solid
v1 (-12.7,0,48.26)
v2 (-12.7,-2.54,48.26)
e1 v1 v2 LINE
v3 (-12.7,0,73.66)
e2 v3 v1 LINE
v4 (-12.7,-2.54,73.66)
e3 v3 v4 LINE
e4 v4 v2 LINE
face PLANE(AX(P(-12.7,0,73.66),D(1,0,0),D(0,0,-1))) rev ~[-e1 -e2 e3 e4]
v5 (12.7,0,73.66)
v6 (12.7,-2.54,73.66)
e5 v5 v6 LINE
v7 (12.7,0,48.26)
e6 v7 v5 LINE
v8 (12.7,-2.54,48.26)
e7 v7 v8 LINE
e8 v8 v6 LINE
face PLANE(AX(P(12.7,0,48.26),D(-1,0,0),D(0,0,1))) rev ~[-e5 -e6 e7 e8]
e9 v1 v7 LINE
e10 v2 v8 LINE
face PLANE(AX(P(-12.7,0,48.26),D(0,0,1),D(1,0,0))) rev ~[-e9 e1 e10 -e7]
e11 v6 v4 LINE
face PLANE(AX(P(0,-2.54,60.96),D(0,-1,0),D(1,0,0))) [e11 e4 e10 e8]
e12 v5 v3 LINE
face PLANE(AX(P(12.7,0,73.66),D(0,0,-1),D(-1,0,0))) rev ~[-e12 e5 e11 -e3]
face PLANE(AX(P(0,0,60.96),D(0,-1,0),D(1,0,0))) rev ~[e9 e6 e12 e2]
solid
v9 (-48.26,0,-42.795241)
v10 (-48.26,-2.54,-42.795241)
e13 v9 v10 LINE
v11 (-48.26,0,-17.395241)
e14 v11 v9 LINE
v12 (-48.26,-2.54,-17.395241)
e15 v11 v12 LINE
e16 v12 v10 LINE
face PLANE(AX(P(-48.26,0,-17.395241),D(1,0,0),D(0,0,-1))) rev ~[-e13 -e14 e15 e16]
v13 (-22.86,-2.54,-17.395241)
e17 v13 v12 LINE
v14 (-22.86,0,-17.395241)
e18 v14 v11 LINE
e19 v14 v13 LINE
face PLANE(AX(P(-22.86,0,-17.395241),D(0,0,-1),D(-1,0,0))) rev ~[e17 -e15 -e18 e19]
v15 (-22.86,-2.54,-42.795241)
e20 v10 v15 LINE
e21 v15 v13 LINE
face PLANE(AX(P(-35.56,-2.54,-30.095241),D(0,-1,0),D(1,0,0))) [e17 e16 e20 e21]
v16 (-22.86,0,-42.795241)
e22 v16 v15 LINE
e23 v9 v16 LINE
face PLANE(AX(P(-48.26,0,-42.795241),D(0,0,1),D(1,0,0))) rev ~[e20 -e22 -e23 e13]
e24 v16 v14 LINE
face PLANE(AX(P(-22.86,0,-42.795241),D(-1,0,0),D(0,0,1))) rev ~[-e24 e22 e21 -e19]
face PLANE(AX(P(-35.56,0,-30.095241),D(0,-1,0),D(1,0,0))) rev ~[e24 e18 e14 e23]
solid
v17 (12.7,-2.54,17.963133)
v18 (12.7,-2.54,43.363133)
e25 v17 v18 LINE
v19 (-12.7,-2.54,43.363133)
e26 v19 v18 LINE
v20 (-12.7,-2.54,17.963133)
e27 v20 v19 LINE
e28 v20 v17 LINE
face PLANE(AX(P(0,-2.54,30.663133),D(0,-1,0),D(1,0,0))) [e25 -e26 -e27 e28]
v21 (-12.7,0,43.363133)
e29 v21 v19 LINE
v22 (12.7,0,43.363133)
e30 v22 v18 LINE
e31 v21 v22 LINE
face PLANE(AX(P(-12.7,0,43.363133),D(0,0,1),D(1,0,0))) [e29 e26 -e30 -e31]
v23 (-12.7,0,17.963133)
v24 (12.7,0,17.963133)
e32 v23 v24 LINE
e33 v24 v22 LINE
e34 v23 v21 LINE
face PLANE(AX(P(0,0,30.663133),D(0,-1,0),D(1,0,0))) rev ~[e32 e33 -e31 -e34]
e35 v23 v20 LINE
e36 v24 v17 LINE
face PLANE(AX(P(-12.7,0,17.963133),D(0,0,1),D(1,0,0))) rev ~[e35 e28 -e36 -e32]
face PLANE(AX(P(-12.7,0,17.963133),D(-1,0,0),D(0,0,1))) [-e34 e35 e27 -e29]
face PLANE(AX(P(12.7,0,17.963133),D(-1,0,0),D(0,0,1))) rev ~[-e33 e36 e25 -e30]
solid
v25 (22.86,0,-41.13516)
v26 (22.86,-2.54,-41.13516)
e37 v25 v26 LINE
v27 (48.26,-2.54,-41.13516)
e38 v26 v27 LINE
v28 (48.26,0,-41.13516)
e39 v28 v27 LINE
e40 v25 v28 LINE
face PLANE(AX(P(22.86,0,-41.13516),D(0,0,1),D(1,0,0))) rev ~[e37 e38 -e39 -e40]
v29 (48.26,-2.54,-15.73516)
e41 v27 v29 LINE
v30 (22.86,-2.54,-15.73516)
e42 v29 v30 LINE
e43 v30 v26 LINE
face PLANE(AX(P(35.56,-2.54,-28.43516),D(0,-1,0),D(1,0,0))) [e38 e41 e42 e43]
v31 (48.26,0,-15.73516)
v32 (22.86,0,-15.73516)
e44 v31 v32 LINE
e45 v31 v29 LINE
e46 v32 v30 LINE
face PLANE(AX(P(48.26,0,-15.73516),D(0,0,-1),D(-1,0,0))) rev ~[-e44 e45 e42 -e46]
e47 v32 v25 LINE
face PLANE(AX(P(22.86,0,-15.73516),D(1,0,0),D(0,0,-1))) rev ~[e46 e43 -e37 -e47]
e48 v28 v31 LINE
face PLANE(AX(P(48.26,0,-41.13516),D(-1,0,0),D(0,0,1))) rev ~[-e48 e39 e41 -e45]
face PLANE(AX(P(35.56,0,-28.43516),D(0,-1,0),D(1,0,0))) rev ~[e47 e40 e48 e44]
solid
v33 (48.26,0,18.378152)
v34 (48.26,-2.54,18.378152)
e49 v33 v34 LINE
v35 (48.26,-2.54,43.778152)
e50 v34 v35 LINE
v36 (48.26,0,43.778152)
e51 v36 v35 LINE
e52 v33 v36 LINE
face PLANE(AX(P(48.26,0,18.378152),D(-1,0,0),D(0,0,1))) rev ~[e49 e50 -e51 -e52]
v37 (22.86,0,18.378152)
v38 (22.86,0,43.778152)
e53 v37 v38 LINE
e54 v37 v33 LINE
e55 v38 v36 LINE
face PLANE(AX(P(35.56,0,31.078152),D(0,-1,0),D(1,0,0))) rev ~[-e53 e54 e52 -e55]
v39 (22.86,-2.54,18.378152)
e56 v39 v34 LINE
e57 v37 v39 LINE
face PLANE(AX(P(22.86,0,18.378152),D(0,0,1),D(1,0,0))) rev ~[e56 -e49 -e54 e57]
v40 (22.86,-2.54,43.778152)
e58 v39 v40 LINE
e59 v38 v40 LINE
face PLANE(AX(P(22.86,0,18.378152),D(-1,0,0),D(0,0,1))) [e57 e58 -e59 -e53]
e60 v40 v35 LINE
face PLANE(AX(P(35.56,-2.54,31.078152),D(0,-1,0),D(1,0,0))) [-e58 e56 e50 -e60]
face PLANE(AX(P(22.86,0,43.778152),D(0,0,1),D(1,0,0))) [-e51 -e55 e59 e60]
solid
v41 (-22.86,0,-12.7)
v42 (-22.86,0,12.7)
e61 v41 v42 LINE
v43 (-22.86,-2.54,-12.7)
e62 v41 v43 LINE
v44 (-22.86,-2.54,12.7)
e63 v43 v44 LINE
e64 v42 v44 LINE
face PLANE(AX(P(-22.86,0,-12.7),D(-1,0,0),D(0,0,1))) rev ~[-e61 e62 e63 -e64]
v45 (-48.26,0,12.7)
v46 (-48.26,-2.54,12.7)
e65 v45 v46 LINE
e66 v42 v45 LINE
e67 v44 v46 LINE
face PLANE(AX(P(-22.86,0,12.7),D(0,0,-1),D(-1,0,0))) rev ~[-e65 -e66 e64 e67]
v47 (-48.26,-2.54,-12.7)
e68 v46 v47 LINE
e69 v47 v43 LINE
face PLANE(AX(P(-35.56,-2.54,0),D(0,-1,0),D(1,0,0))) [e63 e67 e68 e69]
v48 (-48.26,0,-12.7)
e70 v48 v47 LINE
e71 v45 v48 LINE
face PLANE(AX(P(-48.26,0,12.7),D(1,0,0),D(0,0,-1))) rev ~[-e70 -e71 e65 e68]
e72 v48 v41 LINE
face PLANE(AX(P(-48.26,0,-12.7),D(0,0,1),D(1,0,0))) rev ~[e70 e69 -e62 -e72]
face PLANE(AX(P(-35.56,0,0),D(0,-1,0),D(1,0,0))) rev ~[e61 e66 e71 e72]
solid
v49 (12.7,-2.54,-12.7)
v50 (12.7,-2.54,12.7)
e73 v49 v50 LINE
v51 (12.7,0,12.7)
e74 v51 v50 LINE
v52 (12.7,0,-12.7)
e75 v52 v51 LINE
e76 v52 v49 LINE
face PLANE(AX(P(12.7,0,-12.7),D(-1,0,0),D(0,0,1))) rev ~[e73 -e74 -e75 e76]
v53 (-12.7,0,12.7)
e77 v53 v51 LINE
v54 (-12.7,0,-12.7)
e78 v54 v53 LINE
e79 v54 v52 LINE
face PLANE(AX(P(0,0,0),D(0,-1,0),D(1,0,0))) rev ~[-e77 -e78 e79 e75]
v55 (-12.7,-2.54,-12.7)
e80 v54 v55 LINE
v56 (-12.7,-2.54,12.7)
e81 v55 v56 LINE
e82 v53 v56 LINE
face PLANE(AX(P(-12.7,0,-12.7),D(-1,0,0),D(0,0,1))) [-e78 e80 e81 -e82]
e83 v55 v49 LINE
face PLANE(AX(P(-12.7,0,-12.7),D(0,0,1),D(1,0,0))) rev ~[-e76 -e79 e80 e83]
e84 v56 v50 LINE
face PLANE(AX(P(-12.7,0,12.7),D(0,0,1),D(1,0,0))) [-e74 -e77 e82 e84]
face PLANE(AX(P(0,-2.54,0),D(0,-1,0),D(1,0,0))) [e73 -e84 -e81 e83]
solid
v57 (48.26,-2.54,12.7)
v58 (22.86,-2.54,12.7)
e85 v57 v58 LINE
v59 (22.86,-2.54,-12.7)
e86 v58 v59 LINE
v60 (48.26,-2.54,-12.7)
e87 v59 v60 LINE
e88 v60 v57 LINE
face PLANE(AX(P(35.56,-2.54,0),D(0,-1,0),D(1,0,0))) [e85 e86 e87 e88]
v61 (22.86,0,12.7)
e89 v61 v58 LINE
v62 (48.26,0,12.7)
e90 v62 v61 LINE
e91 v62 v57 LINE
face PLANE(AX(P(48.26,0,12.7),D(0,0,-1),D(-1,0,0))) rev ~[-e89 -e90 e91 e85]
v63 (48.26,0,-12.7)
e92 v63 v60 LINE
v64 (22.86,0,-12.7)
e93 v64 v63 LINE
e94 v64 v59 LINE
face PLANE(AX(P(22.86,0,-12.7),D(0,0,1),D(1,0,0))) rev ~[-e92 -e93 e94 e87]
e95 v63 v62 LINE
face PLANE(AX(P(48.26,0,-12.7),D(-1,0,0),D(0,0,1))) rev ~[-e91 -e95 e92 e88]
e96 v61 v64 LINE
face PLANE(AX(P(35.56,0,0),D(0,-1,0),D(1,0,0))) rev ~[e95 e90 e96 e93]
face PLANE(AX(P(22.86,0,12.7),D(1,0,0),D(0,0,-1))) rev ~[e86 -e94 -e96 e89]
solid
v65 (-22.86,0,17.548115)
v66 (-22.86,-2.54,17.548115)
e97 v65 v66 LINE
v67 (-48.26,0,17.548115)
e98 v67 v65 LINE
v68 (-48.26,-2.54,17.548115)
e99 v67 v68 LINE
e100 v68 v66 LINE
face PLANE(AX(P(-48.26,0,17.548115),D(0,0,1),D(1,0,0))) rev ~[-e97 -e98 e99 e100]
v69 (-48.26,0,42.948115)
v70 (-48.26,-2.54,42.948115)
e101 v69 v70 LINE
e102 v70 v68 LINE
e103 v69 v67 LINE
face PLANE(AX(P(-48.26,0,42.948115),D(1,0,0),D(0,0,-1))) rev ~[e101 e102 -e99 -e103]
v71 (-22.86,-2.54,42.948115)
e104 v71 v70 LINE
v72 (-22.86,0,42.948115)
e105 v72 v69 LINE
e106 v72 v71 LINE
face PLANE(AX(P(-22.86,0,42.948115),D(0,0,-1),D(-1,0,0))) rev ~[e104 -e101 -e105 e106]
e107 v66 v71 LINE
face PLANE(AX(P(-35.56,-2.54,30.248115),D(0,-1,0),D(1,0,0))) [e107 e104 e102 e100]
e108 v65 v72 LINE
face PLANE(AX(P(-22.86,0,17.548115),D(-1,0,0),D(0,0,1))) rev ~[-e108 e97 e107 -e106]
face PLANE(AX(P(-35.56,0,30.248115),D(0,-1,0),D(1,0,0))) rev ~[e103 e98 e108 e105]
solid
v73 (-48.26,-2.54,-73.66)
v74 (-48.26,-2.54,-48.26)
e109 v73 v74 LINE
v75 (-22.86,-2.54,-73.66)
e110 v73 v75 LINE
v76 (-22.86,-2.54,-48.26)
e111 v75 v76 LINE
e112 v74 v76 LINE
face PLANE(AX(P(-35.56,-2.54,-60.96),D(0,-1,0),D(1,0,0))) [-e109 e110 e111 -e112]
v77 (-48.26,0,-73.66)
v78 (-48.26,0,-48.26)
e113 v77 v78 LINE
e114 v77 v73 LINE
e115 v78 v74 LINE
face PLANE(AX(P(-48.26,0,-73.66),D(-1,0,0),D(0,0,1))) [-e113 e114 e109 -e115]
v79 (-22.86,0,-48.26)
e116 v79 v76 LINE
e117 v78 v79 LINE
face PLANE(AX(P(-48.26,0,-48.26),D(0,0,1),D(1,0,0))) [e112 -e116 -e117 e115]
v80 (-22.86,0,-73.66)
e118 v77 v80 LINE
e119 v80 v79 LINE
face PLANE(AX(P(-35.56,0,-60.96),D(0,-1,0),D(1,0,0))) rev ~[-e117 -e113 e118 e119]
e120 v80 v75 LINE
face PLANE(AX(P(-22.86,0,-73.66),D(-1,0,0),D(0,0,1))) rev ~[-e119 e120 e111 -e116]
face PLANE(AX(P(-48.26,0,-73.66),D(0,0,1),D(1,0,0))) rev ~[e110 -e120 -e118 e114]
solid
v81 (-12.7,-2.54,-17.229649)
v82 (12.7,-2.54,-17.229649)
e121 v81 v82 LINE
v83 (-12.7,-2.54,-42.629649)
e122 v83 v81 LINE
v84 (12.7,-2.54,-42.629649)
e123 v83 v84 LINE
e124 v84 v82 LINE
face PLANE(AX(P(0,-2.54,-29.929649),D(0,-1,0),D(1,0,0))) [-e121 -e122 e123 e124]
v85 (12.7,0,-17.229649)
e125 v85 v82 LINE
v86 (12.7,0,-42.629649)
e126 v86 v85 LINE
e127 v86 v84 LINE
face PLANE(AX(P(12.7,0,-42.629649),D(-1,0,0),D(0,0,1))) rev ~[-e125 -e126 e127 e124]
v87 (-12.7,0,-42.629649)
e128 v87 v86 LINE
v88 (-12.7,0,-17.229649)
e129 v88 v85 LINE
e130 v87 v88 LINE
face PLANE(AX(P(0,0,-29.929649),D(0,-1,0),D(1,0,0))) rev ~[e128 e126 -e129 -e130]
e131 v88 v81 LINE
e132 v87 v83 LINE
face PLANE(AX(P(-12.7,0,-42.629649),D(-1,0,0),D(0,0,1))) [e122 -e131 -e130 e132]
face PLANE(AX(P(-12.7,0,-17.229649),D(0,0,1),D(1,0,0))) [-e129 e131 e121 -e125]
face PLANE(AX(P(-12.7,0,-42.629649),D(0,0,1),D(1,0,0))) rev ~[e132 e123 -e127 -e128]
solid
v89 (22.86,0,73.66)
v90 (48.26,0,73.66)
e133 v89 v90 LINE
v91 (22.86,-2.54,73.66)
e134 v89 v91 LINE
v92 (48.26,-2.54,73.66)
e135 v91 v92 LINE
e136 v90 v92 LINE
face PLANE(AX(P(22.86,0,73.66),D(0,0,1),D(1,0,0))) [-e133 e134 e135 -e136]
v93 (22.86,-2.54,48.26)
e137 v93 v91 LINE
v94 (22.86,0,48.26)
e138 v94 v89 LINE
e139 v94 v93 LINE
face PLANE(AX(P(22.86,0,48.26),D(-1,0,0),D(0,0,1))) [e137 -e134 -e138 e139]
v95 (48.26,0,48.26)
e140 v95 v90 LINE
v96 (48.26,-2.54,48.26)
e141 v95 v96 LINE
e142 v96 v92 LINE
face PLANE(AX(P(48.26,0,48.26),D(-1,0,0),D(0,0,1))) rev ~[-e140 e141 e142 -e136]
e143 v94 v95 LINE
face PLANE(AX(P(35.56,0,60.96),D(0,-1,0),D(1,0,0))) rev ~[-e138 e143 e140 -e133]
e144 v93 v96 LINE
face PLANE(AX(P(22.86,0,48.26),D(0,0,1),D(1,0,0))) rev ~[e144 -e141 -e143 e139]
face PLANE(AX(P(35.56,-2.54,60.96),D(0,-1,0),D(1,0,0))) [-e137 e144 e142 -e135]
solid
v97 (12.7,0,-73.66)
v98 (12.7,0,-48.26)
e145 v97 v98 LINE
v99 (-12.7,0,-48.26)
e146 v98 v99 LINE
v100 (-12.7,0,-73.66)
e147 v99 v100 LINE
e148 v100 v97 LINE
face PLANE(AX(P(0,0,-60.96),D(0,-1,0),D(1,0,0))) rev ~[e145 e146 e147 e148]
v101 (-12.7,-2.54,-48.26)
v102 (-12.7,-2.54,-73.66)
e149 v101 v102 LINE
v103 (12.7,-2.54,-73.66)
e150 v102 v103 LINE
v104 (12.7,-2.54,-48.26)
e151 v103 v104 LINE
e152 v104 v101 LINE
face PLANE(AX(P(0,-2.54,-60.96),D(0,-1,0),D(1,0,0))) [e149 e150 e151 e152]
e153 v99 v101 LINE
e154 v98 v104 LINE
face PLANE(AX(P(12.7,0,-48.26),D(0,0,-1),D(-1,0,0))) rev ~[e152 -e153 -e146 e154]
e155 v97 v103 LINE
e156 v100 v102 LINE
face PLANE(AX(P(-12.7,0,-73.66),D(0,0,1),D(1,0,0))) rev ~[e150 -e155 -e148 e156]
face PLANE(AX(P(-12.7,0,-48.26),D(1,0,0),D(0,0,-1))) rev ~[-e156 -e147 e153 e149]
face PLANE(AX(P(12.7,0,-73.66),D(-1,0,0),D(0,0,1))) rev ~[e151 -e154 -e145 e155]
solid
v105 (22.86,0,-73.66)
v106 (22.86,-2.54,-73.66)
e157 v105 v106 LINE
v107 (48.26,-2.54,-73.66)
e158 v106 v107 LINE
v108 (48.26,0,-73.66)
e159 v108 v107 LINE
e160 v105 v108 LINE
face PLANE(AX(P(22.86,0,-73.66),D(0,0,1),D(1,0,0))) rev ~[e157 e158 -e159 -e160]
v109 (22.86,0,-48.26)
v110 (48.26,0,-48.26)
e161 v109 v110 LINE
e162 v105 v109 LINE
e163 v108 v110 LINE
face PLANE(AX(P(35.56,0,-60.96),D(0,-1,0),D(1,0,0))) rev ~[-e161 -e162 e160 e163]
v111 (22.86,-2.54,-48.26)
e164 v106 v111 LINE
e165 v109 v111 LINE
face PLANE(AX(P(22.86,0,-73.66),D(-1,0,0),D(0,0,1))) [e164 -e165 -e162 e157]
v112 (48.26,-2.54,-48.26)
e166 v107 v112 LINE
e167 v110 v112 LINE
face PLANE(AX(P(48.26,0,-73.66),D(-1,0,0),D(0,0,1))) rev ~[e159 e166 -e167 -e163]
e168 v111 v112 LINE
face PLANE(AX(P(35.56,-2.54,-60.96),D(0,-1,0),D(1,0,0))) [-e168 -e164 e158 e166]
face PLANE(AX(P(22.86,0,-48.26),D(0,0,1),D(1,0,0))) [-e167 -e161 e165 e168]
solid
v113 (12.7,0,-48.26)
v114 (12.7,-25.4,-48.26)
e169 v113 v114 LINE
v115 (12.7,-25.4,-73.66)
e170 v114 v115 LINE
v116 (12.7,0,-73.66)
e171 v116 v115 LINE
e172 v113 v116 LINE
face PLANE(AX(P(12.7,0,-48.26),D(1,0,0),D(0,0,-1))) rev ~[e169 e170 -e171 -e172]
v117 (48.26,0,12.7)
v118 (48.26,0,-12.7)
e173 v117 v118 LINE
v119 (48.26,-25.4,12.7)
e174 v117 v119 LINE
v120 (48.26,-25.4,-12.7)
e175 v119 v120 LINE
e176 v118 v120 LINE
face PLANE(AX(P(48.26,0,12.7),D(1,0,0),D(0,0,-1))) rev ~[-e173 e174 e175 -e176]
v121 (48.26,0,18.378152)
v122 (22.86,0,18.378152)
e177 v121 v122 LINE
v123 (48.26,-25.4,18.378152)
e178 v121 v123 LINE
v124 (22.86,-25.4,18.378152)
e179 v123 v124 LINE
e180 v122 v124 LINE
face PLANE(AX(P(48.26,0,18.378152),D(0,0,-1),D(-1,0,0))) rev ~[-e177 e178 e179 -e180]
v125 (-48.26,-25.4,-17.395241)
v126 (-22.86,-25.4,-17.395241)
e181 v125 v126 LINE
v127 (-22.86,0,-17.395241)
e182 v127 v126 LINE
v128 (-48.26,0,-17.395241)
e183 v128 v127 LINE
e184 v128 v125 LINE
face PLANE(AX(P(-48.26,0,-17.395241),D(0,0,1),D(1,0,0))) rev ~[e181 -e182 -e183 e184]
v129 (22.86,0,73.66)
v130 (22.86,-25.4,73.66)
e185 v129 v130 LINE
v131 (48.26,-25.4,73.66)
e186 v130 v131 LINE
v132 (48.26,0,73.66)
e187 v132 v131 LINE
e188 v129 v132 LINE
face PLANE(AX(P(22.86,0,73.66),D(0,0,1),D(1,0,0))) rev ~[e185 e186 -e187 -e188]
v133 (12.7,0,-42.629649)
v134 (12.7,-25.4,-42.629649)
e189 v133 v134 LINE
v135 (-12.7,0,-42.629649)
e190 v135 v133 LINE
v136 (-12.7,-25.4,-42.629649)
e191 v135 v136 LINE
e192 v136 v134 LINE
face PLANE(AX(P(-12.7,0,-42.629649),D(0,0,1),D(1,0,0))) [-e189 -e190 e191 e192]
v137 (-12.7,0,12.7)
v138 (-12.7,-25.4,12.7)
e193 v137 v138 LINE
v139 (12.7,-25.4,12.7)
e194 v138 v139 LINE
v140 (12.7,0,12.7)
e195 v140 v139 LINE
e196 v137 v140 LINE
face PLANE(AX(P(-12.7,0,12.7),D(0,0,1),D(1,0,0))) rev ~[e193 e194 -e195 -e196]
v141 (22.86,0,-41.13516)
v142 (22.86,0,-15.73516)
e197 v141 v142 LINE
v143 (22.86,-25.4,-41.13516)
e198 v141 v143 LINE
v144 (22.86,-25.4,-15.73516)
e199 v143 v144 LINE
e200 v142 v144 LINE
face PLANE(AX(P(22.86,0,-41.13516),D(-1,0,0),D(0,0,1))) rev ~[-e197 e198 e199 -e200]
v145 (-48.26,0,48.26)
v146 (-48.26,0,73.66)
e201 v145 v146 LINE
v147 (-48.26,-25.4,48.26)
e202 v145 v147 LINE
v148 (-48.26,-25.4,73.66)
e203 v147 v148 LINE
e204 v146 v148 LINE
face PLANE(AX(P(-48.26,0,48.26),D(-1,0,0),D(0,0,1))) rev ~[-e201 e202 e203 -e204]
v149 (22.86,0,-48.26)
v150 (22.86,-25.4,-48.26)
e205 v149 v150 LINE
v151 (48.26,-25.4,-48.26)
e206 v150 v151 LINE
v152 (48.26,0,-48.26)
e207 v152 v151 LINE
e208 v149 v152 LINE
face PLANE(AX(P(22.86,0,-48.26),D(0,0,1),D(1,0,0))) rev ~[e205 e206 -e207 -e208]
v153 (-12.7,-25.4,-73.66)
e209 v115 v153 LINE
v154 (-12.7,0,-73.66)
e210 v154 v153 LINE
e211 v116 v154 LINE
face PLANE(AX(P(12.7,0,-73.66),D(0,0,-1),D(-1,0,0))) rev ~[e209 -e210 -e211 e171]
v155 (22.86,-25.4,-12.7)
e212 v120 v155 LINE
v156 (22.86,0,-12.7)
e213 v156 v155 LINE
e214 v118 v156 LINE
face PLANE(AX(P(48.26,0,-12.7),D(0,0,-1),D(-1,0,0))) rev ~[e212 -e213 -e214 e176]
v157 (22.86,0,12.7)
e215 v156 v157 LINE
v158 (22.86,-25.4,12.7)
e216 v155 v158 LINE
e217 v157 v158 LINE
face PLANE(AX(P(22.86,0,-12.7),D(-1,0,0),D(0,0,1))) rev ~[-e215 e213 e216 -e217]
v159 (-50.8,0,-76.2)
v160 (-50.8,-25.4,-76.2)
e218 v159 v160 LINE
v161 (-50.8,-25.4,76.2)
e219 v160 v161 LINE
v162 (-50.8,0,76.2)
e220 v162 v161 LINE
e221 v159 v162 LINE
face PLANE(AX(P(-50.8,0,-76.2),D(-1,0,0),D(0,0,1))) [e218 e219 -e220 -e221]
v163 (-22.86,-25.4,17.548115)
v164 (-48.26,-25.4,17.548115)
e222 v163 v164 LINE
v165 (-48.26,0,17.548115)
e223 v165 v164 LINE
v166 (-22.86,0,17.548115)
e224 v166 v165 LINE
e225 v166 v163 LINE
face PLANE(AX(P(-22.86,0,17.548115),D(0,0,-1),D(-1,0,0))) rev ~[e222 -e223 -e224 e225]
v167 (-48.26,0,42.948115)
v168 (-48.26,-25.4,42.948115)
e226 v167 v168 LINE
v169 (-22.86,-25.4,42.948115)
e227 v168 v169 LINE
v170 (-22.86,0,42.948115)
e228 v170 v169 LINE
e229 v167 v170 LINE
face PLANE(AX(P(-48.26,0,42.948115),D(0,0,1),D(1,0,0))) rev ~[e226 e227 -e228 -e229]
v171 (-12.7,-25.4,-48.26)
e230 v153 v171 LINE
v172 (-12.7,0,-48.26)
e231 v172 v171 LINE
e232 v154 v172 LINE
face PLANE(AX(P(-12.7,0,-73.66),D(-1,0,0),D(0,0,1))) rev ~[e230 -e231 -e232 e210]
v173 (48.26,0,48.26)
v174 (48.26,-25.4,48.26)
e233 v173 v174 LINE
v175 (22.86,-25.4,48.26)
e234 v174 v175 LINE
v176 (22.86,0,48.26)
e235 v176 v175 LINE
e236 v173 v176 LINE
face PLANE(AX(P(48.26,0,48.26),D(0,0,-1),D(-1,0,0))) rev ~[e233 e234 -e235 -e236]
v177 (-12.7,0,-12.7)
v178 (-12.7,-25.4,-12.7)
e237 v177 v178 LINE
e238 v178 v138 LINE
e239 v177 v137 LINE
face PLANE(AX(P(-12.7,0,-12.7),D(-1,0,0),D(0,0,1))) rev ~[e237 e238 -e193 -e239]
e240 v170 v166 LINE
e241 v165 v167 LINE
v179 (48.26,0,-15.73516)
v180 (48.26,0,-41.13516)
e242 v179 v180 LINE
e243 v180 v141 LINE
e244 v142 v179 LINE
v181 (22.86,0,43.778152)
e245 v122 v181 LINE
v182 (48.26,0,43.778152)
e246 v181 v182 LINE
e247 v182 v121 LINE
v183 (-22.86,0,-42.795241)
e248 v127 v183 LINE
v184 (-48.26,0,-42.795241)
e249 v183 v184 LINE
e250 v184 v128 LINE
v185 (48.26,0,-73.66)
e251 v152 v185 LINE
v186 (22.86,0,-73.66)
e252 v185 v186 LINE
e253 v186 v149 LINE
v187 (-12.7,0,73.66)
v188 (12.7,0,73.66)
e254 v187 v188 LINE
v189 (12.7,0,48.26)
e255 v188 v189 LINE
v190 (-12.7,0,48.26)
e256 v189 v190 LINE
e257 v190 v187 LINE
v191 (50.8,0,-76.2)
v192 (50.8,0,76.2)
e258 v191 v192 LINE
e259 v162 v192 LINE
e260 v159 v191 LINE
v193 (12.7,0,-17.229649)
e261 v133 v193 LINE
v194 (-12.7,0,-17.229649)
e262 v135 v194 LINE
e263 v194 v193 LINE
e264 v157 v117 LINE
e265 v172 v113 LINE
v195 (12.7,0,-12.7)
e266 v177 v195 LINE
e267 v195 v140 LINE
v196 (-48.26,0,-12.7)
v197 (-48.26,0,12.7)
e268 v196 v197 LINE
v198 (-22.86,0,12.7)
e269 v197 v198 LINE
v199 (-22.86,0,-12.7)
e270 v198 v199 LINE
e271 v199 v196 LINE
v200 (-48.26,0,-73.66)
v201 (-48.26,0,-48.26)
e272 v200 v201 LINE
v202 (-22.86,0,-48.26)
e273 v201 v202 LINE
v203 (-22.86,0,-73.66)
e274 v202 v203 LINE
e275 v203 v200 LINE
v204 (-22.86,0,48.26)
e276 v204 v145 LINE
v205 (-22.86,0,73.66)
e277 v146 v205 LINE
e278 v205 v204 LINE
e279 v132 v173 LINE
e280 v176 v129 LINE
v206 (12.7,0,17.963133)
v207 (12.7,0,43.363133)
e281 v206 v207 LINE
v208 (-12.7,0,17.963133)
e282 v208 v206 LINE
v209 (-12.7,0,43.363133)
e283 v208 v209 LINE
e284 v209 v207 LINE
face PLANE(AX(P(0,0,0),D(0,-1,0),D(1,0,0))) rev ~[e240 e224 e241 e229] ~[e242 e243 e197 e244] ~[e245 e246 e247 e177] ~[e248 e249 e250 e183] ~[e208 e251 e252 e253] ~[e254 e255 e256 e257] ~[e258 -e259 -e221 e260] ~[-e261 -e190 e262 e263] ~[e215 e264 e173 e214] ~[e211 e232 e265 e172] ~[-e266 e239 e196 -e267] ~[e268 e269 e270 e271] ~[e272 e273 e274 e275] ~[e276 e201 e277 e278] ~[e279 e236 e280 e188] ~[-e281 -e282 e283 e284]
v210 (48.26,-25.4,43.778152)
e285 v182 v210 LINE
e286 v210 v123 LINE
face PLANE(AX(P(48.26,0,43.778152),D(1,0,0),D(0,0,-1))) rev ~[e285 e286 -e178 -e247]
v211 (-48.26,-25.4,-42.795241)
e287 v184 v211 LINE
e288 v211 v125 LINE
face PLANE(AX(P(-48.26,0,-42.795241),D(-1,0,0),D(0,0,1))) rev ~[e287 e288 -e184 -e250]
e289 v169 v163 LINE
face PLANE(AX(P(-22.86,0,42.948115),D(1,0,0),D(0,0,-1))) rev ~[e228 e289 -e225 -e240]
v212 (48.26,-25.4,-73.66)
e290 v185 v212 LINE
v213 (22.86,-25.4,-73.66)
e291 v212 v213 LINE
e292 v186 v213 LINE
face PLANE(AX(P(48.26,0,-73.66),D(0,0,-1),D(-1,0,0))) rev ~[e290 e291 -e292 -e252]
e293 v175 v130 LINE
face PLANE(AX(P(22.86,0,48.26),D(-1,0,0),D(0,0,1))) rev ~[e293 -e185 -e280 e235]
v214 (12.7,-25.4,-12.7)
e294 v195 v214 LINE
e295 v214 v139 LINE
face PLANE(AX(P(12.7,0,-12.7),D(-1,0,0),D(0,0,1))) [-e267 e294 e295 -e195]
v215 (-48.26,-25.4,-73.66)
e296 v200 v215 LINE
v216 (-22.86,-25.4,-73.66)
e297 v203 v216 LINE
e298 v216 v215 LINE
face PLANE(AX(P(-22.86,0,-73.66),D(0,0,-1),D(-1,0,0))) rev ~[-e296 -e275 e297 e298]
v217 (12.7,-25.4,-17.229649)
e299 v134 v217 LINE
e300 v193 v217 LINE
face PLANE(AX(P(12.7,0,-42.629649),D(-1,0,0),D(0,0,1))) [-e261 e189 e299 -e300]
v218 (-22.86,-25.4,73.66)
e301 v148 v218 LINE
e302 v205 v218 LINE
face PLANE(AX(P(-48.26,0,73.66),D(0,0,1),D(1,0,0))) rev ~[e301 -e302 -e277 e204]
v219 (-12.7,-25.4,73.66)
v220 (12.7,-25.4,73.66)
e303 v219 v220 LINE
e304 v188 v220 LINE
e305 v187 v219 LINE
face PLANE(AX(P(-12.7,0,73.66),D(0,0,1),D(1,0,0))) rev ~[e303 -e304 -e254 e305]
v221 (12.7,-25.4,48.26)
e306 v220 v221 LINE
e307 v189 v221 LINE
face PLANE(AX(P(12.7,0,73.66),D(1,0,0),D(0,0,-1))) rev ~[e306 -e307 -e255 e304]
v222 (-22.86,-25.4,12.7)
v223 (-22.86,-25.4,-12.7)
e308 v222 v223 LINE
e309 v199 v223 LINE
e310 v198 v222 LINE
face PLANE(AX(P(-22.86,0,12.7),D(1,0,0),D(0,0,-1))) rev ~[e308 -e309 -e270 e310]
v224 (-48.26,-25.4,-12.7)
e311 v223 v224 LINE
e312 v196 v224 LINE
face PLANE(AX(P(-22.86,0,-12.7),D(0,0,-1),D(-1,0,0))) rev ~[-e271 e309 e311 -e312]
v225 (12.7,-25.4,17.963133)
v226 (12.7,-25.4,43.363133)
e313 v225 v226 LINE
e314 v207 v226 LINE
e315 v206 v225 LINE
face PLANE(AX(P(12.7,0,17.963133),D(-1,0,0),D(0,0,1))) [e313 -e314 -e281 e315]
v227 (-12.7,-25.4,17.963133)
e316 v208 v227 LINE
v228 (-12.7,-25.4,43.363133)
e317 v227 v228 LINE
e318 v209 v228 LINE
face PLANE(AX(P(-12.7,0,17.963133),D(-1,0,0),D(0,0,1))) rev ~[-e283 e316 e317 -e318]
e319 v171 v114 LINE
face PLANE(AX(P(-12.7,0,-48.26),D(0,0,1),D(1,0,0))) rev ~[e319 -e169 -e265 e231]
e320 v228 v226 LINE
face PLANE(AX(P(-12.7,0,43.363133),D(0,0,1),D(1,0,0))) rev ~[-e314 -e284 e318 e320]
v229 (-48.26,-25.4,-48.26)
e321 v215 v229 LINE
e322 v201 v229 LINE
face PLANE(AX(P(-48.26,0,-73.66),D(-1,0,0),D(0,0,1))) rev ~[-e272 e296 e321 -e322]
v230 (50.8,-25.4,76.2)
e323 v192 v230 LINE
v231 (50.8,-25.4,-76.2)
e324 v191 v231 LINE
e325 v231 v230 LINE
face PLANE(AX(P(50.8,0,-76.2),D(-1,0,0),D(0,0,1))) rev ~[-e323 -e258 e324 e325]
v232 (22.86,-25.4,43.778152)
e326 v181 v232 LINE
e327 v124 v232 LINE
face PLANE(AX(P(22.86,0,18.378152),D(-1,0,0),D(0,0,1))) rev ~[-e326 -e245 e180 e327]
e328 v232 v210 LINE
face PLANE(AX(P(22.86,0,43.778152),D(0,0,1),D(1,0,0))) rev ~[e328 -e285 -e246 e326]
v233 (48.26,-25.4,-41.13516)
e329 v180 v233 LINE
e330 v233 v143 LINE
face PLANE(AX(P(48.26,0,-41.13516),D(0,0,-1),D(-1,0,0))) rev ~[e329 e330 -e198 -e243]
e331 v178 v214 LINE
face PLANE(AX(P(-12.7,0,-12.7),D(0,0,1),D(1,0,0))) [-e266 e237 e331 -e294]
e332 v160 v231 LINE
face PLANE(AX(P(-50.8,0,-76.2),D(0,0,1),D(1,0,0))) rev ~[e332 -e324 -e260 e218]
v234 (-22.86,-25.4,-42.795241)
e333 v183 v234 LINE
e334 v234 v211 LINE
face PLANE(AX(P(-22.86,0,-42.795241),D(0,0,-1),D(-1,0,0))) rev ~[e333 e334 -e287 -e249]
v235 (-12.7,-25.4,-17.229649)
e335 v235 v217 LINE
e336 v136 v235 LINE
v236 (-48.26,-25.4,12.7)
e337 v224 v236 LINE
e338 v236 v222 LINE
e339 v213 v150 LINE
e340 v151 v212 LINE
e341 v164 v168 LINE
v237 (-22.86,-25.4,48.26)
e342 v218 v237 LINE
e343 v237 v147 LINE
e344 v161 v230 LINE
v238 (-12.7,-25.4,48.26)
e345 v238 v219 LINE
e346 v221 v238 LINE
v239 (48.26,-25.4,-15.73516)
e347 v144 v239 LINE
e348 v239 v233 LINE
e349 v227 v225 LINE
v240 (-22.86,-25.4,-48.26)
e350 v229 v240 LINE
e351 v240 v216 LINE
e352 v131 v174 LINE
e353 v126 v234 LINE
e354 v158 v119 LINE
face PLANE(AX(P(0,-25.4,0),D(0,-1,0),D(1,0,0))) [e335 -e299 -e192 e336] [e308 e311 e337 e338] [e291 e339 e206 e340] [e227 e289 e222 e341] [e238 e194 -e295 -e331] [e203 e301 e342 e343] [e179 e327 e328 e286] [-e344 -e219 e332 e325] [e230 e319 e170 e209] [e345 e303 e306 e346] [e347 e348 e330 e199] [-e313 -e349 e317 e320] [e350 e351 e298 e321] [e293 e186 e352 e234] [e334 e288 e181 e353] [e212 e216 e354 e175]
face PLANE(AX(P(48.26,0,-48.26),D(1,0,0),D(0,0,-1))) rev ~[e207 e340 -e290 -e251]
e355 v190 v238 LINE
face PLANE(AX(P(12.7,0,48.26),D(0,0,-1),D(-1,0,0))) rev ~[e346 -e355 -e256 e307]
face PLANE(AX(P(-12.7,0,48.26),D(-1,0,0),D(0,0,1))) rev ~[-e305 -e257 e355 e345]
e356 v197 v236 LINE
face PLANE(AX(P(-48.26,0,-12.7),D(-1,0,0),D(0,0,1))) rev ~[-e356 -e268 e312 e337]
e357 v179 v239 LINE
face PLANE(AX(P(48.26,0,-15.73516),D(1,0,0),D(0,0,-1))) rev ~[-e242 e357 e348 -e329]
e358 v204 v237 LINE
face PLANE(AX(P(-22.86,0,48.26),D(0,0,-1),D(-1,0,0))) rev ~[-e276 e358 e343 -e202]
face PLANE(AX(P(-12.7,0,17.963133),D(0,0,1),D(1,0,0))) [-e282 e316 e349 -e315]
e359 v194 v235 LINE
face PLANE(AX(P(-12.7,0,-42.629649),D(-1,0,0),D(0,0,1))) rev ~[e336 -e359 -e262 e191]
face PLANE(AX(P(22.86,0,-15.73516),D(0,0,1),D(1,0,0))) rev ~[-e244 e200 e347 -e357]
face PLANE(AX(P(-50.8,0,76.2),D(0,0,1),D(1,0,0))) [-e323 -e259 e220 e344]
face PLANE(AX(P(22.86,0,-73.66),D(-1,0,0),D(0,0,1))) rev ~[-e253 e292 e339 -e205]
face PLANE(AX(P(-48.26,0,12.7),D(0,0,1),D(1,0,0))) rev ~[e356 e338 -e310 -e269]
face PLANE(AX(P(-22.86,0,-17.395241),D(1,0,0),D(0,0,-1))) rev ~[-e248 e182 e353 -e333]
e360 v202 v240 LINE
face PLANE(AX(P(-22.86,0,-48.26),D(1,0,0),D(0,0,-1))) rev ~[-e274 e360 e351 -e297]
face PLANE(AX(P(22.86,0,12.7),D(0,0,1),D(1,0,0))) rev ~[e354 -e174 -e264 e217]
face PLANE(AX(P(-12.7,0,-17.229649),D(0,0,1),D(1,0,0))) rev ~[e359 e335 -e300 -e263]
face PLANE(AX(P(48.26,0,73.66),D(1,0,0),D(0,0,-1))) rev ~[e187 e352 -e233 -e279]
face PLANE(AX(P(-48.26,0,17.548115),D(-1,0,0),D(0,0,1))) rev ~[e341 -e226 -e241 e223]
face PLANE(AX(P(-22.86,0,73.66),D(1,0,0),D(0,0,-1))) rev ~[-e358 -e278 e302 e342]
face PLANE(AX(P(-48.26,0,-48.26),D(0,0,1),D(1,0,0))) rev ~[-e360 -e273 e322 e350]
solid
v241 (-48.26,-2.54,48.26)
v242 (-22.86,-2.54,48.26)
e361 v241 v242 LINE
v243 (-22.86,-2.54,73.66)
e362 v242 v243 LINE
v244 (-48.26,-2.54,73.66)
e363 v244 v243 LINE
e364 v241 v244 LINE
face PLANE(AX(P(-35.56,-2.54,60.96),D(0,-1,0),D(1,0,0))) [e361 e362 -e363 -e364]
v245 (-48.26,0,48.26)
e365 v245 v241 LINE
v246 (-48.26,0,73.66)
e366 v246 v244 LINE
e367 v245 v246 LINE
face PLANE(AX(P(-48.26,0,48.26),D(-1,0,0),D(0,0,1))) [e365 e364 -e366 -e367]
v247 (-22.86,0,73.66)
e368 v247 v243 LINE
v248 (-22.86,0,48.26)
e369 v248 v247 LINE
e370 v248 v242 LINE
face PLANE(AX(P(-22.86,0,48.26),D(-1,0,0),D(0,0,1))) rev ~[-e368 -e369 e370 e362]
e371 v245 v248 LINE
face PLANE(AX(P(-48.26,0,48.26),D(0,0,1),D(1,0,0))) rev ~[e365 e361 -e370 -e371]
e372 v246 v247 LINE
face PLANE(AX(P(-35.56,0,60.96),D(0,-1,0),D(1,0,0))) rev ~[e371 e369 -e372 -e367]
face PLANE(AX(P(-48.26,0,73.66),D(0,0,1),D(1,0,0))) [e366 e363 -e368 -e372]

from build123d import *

# Parameters (mm, degrees)
F0_W     = 25.4
F0_H     = 25.4
F1_DEPTH = 2.54
F0_W_2   = 101.6
F0_H_2   = 152.4
F2_DEPTH = 25.4


with BuildPart() as f1:
    # F0 (on Front) → F1 (new body)
    with BuildSketch(Plane.XZ):
        with Locations((-35.56, 60.96)):
            Rectangle(F0_W, F0_H)
        Polygon((12.7, 48.26), (12.7, 73.66), (0, 73.66), (-12.7, 73.66), (-12.7, 48.26), align=None)
        with Locations((35.56, 60.96)):
            Rectangle(F0_W, F0_H)
        with Locations((35.56, 31.078152)):
            Rectangle(F0_W, F0_H)
        with Locations((0, 30.663133)):
            Rectangle(F0_W, F0_H)
        Polygon((-22.86, 42.948115), (-48.26, 42.948115), (-48.26, 30.248115), (-48.26, 17.548115), (-22.86, 17.548115), align=None)
        Polygon((-22.86, 12.7), (-48.26, 12.7), (-48.26, 0), (-48.26, -12.7), (-22.86, -12.7), align=None)
        Rectangle(F0_W, F0_H)
        Polygon((48.26, 0), (48.26, 12.7), (22.86, 12.7), (22.86, -12.7), (48.26, -12.7), align=None)
        Polygon((48.26, -28.43516), (48.26, -15.73516), (22.86, -15.73516), (22.86, -41.13516), (48.26, -41.13516), align=None)
        with Locations((0, -29.929649)):
            Rectangle(F0_W, F0_H)
        Polygon((-22.86, -17.395241), (-48.26, -17.395241), (-48.26, -30.095241), (-48.26, -42.795241), (-22.86, -42.795241), align=None)
        with Locations((-35.56, -60.96)):
            Rectangle(F0_W, F0_H)
        Polygon((0, -73.66), (12.7, -73.66), (12.7, -48.26), (-12.7, -48.26), (-12.7, -73.66), align=None)
        with Locations((35.56, -60.96)):
            Rectangle(F0_W, F0_H)
    extrude(amount=F1_DEPTH)


with BuildPart() as f2:
    # F0 (on Front) → F2 (new body)
    with BuildSketch(Plane.XZ):
        Rectangle(F0_W_2, F0_H_2)
        Polygon((22.86, 73.66), (48.26, 73.66), (48.26, 48.26), (48.26, 43.778152), (48.26, 18.378152), (48.26, 12.7), (48.26, 0), (48.26, -12.7), (48.26, -15.73516), (48.26, -28.43516), (48.26, -41.13516), (48.26, -48.26), (48.26, -73.66), (22.86, -73.66), (12.7, -73.66), (0, -73.66), (-12.7, -73.66), (-22.86, -73.66), (-48.26, -73.66), (-48.26, -48.26), (-48.26, -42.795241), (-48.26, -30.095241), (-48.26, -17.395241), (-48.26, -12.7), (-48.26, 0), (-48.26, 12.7), (-48.26, 17.548115), (-48.26, 30.248115), (-48.26, 42.948115), (-48.26, 48.26), (-48.26, 73.66), (-22.86, 73.66), (-12.7, 73.66), (0, 73.66), (12.7, 73.66), align=None, mode=Mode.SUBTRACT)
        Polygon((22.86, 48.26), (22.86, 73.66), (12.7, 73.66), (12.7, 48.26), (-12.7, 48.26), (-12.7, 73.66), (-22.86, 73.66), (-22.86, 48.26), (-48.26, 48.26), (-48.26, 42.948115), (-22.86, 42.948115), (-22.86, 17.548115), (-48.26, 17.548115), (-48.26, 12.7), (-22.86, 12.7), (-22.86, -12.7), (-48.26, -12.7), (-48.26, -17.395241), (-22.86, -17.395241), (-22.86, -42.795241), (-48.26, -42.795241), (-48.26, -48.26), (-22.86, -48.26), (-22.86, -73.66), (-12.7, -73.66), (-12.7, -48.26), (12.7, -48.26), (12.7, -73.66), (22.86, -73.66), (22.86, -48.26), (48.26, -48.26), (48.26, -41.13516), (22.86, -41.13516), (22.86, -15.73516), (48.26, -15.73516), (48.26, -12.7), (22.86, -12.7), (22.86, 12.7), (48.26, 12.7), (48.26, 18.378152), (22.86, 18.378152), (22.86, 43.778152), (48.26, 43.778152), (48.26, 48.26), align=None)
        with Locations((0, -29.929649)):
            Rectangle(F0_W, F0_H, mode=Mode.SUBTRACT)
        Rectangle(F0_W, F0_H, mode=Mode.SUBTRACT)
        with Locations((0, 30.663133)):
            Rectangle(F0_W, F0_H, mode=Mode.SUBTRACT)
    extrude(amount=F2_DEPTH)


solid = Compound([f1.part, f2.part])
